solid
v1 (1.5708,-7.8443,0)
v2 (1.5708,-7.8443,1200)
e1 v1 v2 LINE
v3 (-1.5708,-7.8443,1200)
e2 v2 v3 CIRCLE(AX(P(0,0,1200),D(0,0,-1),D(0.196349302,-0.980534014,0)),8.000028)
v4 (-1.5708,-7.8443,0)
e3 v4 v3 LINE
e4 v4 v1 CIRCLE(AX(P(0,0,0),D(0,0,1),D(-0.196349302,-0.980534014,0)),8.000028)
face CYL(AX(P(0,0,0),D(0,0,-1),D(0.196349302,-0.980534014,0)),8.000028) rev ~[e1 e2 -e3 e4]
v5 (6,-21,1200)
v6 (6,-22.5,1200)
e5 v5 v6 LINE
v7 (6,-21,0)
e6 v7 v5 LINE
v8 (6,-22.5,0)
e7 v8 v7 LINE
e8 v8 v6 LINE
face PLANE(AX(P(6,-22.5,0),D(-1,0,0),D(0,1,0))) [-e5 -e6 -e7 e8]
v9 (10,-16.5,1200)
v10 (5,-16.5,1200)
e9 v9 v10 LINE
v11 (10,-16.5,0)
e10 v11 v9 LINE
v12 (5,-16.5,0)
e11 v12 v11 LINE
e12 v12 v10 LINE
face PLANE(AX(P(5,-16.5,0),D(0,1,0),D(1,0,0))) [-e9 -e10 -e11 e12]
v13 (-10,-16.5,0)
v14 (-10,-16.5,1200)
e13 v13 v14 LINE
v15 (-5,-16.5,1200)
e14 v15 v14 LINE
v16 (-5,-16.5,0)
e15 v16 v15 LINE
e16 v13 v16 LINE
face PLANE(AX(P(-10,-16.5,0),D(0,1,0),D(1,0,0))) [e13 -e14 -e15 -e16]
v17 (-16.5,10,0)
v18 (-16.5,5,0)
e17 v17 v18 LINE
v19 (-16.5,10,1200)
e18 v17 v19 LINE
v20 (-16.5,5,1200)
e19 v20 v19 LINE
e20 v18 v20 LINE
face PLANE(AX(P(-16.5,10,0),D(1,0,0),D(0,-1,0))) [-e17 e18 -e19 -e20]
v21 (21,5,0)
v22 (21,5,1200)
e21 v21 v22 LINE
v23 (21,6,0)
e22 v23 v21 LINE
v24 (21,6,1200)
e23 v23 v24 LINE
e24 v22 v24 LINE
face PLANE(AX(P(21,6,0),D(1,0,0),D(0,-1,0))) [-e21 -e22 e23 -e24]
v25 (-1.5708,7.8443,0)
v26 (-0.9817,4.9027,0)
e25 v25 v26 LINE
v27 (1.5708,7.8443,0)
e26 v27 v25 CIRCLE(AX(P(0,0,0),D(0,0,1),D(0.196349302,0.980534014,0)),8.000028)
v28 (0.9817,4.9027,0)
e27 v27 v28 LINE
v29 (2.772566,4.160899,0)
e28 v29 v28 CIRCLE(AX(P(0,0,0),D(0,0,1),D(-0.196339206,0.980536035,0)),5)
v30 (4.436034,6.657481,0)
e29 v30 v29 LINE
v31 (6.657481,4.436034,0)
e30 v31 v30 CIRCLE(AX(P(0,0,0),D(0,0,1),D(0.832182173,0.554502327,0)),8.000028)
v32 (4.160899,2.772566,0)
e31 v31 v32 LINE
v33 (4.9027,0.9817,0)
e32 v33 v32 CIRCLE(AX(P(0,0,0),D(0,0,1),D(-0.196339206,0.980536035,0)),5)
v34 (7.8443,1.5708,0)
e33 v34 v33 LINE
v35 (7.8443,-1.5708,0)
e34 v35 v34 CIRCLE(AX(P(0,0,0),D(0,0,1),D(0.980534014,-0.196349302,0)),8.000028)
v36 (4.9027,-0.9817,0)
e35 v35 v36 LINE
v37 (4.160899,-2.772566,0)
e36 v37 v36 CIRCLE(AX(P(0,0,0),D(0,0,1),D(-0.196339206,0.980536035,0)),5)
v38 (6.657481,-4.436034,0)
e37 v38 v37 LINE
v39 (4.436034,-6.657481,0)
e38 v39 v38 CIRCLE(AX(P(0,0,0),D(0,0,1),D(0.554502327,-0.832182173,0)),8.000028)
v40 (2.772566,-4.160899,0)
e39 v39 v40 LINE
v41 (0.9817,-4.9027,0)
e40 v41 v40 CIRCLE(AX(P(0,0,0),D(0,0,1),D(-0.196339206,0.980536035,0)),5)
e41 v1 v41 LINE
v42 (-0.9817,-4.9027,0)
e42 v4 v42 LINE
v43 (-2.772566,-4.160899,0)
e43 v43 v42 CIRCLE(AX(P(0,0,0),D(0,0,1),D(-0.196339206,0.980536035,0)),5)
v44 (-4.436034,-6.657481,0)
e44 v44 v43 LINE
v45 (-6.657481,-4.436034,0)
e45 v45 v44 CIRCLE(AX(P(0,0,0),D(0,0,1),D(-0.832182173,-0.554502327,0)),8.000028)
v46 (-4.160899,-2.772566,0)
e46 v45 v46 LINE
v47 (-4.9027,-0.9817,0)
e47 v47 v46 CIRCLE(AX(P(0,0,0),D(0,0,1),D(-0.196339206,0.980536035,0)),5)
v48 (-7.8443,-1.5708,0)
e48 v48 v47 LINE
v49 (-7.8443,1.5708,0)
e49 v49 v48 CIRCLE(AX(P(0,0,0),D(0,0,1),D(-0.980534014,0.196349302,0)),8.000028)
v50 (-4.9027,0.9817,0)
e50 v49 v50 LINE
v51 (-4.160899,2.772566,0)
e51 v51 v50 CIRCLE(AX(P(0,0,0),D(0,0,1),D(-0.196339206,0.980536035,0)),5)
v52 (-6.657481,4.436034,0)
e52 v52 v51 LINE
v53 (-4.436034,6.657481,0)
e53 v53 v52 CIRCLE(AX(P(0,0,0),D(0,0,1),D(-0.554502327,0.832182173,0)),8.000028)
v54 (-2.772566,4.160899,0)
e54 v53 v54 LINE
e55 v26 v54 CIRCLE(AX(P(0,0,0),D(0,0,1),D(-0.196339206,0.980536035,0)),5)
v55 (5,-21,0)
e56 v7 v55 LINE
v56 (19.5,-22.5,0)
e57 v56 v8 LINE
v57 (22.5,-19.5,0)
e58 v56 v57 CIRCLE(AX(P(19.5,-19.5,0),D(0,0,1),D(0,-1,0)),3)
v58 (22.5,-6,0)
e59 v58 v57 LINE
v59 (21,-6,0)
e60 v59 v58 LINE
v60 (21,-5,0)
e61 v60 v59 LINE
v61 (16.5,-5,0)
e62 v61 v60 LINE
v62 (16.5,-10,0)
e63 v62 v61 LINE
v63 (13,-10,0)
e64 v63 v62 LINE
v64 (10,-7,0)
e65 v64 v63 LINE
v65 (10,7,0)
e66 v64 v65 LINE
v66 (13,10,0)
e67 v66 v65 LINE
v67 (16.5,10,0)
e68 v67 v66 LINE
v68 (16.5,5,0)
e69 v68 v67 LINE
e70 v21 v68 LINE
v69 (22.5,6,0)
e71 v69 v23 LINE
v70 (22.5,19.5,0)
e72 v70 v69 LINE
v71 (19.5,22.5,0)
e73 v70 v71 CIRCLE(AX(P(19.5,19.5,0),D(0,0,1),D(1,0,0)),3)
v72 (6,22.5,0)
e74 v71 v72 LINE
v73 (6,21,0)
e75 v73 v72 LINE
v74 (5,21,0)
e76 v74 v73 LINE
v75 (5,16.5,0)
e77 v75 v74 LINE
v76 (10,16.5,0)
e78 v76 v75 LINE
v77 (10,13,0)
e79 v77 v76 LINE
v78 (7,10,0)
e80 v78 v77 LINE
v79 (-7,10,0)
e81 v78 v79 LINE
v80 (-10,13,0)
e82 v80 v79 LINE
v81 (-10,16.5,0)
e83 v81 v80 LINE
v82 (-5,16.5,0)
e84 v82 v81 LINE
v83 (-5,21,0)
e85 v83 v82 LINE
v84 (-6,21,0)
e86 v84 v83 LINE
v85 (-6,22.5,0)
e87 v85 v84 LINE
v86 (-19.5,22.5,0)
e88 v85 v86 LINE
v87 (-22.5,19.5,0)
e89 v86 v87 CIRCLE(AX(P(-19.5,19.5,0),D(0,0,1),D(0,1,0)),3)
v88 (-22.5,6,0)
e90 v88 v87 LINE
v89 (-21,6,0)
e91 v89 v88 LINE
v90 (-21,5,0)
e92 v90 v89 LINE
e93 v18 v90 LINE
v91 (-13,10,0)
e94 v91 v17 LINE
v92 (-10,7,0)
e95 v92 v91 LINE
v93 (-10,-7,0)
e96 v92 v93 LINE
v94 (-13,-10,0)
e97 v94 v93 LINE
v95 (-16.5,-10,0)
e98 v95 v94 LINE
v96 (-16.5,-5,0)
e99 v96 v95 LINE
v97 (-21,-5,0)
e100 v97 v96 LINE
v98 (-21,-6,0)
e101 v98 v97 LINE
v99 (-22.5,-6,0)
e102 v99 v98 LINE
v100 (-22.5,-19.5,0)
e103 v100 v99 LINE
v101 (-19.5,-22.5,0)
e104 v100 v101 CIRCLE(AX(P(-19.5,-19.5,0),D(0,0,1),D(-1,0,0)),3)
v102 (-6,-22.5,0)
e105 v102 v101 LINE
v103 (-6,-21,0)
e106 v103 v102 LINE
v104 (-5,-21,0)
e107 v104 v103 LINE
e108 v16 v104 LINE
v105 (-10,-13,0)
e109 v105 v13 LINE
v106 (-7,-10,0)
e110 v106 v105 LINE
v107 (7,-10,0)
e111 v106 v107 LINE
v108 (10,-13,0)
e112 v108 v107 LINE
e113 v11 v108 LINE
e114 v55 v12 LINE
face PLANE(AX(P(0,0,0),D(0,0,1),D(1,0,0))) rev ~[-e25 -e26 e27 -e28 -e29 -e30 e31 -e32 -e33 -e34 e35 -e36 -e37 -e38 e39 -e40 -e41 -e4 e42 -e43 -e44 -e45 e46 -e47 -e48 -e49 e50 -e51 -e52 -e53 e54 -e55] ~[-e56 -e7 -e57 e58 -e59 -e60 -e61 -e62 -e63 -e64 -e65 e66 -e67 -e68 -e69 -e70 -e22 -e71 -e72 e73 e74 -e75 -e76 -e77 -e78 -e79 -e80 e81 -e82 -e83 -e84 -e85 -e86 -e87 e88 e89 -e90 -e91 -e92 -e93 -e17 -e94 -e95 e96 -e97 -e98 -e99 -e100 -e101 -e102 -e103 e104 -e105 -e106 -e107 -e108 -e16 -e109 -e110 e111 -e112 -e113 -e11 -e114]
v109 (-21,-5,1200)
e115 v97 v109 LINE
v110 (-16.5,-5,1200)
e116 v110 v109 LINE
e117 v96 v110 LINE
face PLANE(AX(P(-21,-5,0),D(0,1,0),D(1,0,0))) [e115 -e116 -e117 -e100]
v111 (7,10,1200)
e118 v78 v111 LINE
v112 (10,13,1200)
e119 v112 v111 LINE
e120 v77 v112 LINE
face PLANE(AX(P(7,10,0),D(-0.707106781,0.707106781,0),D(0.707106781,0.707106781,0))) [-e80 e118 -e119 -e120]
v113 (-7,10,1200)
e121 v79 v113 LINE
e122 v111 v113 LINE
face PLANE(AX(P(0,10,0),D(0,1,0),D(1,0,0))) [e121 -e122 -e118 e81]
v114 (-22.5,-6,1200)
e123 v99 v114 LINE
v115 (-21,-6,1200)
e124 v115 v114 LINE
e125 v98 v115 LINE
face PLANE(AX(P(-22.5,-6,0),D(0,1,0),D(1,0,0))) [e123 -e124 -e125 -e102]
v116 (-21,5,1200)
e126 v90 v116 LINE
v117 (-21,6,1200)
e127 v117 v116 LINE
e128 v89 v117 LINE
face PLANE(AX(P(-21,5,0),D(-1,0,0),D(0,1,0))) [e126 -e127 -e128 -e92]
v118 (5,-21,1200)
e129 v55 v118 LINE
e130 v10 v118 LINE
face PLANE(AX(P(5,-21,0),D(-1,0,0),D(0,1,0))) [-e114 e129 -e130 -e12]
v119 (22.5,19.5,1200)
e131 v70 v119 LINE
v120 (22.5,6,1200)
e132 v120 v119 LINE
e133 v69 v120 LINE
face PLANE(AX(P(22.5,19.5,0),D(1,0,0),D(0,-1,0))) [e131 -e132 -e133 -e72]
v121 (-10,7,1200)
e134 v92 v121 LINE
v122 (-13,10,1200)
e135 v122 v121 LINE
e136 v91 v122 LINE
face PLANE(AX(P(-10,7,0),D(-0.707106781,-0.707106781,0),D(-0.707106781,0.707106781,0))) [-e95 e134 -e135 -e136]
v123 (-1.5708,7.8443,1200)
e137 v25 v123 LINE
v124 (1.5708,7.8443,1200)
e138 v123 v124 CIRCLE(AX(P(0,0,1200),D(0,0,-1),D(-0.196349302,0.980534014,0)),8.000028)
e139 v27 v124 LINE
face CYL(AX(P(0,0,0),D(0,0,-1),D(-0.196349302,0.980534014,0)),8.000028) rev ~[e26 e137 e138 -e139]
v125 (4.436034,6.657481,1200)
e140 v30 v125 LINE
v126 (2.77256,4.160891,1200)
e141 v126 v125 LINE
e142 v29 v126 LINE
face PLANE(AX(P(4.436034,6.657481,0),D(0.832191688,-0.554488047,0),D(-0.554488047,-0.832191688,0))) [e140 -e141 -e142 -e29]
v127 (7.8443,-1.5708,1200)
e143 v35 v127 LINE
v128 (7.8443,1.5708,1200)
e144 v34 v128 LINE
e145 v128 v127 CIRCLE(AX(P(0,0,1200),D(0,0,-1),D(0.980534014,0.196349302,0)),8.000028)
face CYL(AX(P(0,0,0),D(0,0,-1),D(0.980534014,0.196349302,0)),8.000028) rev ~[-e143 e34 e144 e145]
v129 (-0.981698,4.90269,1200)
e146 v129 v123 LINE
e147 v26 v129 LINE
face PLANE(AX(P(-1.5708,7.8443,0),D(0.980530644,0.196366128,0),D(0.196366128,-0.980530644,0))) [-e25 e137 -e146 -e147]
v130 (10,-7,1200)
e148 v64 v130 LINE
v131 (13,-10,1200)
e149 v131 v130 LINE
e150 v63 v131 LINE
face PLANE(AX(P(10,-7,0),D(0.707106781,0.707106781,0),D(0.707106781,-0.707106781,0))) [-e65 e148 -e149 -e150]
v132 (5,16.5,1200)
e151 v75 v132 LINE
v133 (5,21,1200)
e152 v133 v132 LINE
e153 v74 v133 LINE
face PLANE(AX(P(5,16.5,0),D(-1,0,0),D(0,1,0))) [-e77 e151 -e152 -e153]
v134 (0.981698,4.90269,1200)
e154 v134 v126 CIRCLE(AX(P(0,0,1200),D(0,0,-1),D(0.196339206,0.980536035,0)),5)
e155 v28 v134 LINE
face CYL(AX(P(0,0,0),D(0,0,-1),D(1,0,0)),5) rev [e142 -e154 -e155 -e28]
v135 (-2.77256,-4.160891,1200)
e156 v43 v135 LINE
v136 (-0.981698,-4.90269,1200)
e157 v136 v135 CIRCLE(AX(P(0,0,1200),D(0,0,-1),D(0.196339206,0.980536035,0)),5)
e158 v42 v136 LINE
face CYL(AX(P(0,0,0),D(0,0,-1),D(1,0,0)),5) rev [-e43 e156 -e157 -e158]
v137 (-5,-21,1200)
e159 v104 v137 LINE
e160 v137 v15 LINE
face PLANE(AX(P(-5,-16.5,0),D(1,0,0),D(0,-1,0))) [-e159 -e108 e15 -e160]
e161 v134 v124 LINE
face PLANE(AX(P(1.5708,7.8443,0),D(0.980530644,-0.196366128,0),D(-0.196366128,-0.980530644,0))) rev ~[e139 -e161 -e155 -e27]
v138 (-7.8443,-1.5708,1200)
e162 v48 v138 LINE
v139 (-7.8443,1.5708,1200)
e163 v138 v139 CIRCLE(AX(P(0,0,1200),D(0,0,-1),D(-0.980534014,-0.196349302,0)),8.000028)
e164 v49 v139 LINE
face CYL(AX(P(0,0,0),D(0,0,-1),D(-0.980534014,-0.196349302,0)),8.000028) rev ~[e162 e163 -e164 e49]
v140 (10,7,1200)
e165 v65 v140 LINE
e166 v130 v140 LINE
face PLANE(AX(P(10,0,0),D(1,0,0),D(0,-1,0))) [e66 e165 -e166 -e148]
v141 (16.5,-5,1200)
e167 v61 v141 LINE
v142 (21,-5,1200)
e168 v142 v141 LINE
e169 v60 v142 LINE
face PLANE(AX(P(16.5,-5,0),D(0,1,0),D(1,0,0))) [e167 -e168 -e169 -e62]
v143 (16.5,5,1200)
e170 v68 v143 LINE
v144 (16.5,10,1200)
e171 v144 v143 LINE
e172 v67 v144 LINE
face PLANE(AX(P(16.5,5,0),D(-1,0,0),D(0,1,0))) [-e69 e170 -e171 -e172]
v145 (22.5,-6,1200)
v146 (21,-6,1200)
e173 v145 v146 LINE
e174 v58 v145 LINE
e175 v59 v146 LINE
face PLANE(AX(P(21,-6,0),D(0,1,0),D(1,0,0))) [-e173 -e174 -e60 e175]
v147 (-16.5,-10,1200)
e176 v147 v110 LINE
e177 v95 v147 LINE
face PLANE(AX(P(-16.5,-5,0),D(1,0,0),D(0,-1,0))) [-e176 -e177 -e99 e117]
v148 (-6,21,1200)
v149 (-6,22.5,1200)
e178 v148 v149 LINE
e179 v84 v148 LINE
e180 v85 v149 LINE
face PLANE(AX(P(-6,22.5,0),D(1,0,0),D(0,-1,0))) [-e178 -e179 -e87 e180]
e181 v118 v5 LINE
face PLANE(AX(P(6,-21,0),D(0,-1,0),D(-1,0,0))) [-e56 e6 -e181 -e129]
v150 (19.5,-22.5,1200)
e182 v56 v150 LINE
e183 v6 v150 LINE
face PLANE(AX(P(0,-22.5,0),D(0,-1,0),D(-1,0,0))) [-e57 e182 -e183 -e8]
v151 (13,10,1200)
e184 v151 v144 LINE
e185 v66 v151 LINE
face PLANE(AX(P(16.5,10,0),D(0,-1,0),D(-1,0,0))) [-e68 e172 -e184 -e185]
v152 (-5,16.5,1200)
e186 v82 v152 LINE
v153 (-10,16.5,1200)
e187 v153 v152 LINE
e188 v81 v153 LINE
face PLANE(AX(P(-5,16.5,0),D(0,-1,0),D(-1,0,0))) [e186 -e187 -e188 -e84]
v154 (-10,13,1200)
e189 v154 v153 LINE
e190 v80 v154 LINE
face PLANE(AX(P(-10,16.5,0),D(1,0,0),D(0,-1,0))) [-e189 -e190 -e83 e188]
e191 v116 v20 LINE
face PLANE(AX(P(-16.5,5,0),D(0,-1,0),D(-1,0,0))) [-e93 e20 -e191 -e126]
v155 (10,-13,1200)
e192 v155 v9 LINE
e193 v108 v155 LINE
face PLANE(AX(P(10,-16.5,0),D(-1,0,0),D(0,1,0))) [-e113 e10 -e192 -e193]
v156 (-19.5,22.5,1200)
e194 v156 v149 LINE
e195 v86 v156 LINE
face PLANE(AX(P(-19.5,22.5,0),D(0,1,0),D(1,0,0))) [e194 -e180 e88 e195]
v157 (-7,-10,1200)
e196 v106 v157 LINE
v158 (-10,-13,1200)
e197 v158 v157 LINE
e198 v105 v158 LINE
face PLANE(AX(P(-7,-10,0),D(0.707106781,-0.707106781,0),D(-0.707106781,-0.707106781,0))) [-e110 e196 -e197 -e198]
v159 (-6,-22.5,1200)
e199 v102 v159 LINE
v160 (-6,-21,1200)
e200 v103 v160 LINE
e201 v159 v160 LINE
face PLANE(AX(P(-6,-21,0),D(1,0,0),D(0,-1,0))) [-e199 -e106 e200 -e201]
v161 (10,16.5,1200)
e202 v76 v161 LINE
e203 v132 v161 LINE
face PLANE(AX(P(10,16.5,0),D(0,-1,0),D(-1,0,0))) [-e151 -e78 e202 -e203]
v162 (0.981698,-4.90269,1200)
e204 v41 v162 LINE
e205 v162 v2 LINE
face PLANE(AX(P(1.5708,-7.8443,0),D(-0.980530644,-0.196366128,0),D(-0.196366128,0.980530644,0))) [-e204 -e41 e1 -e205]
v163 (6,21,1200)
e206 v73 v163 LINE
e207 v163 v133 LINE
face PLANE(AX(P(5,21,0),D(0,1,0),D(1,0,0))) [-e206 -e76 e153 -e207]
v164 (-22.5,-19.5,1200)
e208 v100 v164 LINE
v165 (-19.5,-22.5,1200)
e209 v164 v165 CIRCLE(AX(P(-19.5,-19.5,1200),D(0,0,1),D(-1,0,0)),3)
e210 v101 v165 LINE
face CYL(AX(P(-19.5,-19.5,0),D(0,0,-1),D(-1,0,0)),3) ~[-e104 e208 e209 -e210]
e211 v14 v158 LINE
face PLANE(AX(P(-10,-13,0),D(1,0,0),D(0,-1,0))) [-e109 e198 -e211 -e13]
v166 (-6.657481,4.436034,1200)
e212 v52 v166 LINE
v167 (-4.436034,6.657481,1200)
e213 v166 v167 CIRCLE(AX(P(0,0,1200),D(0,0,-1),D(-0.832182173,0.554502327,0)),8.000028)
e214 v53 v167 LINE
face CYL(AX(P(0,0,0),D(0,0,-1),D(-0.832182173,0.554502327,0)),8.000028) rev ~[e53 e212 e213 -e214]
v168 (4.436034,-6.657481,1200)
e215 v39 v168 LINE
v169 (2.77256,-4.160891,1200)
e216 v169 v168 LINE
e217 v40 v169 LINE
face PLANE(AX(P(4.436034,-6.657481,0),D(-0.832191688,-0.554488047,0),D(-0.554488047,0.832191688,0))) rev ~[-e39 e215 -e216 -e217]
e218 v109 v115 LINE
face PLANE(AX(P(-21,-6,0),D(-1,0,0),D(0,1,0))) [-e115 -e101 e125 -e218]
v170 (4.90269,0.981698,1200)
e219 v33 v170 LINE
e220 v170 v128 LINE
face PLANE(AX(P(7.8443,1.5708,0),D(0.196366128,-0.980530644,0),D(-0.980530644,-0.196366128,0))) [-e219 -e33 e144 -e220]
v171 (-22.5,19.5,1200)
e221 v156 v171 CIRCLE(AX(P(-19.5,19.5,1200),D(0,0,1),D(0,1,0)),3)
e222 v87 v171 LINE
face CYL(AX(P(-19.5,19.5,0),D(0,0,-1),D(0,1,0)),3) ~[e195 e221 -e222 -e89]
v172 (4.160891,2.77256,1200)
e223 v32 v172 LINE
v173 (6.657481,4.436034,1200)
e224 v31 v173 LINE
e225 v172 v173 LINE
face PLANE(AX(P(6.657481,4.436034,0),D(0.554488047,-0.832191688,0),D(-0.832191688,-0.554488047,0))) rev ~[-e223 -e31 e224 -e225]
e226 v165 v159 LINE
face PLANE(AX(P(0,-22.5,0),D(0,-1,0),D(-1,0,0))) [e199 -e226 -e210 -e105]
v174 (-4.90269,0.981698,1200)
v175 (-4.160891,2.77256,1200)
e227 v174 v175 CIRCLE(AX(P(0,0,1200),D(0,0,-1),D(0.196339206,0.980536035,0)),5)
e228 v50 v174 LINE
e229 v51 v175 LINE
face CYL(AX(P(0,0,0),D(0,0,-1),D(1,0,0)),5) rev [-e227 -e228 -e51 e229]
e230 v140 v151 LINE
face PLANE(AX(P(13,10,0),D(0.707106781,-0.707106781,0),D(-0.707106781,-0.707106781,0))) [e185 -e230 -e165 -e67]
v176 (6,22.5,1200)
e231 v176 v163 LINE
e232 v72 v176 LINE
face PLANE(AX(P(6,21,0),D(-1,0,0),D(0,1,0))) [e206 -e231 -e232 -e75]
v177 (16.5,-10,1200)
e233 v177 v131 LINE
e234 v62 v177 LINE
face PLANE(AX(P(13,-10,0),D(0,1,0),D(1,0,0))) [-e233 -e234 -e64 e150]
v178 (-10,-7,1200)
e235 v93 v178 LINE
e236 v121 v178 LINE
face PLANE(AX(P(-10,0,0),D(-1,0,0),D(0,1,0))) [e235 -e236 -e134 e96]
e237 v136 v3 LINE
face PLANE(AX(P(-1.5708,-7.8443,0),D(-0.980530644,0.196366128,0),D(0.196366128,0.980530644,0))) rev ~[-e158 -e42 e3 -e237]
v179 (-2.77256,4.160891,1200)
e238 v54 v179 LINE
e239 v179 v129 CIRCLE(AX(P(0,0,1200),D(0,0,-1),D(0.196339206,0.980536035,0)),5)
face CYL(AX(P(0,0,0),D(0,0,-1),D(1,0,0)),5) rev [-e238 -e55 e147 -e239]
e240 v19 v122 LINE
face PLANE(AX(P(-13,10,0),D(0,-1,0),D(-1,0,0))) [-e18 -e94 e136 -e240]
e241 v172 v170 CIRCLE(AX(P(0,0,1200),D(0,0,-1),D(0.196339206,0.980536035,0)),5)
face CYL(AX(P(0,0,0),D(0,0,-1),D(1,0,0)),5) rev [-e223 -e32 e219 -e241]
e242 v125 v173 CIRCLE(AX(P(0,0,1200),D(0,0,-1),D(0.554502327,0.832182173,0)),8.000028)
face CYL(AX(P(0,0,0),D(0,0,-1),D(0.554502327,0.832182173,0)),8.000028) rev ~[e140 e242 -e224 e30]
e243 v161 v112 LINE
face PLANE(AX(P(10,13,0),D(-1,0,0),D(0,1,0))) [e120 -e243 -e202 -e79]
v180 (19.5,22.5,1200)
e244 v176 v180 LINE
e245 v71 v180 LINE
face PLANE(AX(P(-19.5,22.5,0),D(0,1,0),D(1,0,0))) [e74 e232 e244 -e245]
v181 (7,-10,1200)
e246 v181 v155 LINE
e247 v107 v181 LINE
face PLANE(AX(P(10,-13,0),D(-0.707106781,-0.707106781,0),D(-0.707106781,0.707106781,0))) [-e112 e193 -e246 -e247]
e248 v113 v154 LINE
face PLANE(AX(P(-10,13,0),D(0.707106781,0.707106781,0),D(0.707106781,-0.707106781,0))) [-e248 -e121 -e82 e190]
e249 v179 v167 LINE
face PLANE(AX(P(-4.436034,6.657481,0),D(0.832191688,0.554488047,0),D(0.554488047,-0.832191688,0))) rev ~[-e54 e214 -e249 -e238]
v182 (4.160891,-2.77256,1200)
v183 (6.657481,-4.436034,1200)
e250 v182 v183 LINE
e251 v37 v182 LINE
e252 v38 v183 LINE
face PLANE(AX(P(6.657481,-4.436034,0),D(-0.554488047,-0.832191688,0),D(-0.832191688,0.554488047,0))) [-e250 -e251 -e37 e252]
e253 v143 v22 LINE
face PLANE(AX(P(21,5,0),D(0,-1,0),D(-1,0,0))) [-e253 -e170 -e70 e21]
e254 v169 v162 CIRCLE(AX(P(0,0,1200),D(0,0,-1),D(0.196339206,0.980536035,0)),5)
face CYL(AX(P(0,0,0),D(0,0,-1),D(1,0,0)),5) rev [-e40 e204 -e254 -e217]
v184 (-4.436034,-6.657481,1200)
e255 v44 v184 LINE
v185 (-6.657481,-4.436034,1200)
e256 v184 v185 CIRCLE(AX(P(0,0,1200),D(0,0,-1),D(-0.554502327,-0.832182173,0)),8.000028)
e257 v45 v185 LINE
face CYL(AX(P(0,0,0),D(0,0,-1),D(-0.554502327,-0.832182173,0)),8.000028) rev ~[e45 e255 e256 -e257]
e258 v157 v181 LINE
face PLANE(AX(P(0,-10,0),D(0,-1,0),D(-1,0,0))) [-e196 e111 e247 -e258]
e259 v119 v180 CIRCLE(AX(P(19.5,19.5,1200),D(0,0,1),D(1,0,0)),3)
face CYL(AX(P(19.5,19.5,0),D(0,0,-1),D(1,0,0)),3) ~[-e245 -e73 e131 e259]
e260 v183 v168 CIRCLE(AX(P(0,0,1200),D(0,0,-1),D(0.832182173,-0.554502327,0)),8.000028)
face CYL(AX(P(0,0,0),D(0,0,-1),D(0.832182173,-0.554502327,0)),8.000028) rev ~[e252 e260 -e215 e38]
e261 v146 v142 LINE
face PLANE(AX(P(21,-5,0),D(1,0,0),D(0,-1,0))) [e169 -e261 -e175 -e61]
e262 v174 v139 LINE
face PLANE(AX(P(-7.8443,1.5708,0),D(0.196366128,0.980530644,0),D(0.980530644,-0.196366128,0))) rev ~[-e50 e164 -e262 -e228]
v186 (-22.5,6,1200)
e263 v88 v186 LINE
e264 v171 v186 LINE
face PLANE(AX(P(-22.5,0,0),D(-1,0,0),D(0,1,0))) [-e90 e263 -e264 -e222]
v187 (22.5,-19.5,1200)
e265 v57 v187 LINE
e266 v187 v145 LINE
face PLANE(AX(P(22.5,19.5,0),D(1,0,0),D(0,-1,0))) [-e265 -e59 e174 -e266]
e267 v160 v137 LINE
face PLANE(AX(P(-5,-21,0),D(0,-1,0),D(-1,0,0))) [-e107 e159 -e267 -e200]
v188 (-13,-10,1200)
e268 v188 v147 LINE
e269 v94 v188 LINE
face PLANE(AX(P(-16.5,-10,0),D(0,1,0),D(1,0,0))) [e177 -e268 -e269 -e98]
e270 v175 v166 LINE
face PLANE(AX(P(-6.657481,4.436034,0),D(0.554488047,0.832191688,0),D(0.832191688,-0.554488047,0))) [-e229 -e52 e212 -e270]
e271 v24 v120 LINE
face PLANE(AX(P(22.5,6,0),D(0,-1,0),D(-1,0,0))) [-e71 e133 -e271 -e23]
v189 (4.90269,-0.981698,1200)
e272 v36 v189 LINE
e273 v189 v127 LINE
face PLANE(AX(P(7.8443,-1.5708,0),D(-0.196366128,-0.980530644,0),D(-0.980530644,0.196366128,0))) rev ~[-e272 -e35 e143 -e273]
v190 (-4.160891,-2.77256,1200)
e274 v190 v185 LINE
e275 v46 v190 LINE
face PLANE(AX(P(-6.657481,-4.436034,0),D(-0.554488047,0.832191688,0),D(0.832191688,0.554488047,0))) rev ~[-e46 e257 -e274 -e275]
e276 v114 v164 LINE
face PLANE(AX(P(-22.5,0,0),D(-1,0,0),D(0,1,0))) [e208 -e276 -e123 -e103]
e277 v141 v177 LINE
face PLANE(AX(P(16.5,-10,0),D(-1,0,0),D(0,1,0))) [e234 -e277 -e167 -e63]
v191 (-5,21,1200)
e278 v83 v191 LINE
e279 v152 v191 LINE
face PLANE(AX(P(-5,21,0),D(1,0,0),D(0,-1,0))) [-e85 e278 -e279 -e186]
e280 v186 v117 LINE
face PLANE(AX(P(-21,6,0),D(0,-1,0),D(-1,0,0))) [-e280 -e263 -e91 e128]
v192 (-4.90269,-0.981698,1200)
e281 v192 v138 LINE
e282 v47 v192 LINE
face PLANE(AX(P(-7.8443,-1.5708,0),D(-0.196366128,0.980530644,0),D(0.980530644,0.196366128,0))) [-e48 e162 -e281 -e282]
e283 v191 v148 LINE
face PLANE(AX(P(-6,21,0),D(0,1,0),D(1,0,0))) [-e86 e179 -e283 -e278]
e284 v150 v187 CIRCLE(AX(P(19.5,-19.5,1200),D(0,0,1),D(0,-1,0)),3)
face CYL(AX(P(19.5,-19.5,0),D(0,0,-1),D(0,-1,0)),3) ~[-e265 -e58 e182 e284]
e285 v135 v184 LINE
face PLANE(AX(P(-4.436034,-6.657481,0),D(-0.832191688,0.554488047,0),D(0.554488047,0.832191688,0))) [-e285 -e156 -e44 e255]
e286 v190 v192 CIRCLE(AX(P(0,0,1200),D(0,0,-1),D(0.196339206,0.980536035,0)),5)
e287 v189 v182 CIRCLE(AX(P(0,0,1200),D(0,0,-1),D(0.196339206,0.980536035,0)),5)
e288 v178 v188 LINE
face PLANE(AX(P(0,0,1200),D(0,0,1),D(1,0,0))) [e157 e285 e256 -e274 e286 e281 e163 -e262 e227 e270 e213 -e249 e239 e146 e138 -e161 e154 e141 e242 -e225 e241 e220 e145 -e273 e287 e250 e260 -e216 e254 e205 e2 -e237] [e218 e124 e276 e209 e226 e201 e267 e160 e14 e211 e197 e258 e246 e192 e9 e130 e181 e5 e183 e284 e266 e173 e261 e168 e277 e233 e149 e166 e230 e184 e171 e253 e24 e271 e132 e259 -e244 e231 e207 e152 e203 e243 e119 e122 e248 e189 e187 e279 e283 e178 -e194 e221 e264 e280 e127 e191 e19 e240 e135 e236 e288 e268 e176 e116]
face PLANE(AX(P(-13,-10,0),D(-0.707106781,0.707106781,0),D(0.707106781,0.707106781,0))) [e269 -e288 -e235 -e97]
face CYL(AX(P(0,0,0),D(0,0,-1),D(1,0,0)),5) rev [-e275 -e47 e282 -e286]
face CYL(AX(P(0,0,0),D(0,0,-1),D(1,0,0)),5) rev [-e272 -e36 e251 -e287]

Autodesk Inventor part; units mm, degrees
ref_plane "YZ Plane" through (0, 0, 0) normal (1, 0, 0) x (0, 1, 0)
ref_plane "XZ Plane" through (0, 0, 0) normal (0, 1, 0) x (-1, 0, 0)
ref_plane "XY Plane" through (0, 0, 0) normal (0, 0, 1) x (1, 0, 0)
sketch "Skizze1" plane through (0, 0, 0) normal (0, 0, 1) x (1, 0, 0)
  line L0 (-19.5, 22.5) -> (19.5, 22.5)
  line L1 (22.5, 19.5) -> (22.5, -19.5)
  line L2 (19.5, -22.5) -> (-19.5, -22.5)
  line L3 (-22.5, -19.5) -> (-22.5, 19.5)
  circle A0 centre (0, 0) radius 5
  line L4 (-32.3698, 0) -> (32.3698, 0) projected
  line L5 (0, -32.3698) -> (0, 32.3698) projected
  arc A1 (22.5, 19.5) -> (19.5, 22.5) centre (19.5, 19.5) ccw
  arc A2 (-19.5, 22.5) -> (-22.5, 19.5) centre (-19.5, 19.5) ccw
  arc A3 (-22.5, -19.5) -> (-19.5, -22.5) centre (-19.5, -19.5) ccw
  arc A4 (19.5, -22.5) -> (22.5, -19.5) centre (19.5, -19.5) ccw
  point P0 (-22.5, 22.5)
  point P1 (22.5, 22.5)
  point P2 (-22.5, -22.5)
  dimension "d0" = 45
  dimension "d1" = 45
  dimension "d2" = 10
  dimension "d3" = 3
extrude "Extrusion1" add sketch "Skizze1" along normal blind 1200 contours L0 L5 A0 L4 L3 A2 | L0 A1 L1 L4 A0 L5 | L4 A0 L5 L2 A3 L3 | L4 L1 A4 L2 L5 A0
sketch "Skizze2" plane through (0, 0, 0) normal (0, 0, -1) x (-1, 0, 0)
  line L0 (19.5, -22.5) -> (-19.5, -22.5) projected
  line L1 (31.5, 0) -> (-31.5, 0) projected
  line L2 (0, -31.5) -> (0, 31.5) projected
  line L3 (-6, -22.5) -> (-6, -21)
  line L4 (-6, -21) -> (-5, -21)
  line L5 (-5, -21) -> (-5, -16.5)
  line L6 (-5, -16.5) -> (-10, -16.5)
  line L7 (-10, -16.5) -> (-10, -13)
  line L8 (-10, -13) -> (-7, -10)
  line L9 (-7, -10) -> (7, -10)
  line L10 (7, -10) -> (10, -13)
  line L11 (10, -13) -> (10, -16.5)
  line L12 (10, -16.5) -> (5, -16.5)
  line L13 (5, -16.5) -> (5, -21)
  line L14 (5, -21) -> (6, -21)
  line L15 (6, -21) -> (6, -22.5)
  dimension "d6" = 10
  dimension "d7" = 20
  dimension "d8" = 12
  dimension "d9" = 1.5
  dimension "d10" = 12.5
  dimension "d11" = 135
  dimension "d12" = 6
  dimension "d13" = 3.5
extrude "Extrusion2" cut sketch "Skizze2" against normal through all
pattern_circular "Runde Anordnung1" count 4 over 360 about axis through (0, 0, 0) along (0, 0, 1) of "Extrusion2"
sketch "Skizze3" plane through (0, 0, 0) normal (0, 0, -1) x (-1, 0, 0)
  circle A0 centre (0, 0) radius 5 projected
  line L0 (31.5, 0) -> (-31.5, 0) projected
  line L1 (0, -31.5) -> (0, 31.5) projected
  line L2 (-1.5708, 7.8443) -> (-0.9817, 4.9027)
  line L3 (1.5708, 7.8443) -> (0.9817, 4.9027)
  arc A1 (1.5708, 7.8443) -> (-1.5708, 7.8443) centre (0, 0) ccw
  dimension "d20" = 1.9635
  dimension "d21" = 3.1416
  dimension "d22" = 8
extrude "Extrusion3" cut sketch "Skizze3" against normal through all contours A0 L1 A1 L3 | A0 L2 A1 L1
pattern_circular "Runde Anordnung2" count 8 over 360 about axis through (0, 0, 0) along (0, 0, 1) of "Extrusion3"
properties part number "Alu-Profil Nut 10 45x45 1200"
